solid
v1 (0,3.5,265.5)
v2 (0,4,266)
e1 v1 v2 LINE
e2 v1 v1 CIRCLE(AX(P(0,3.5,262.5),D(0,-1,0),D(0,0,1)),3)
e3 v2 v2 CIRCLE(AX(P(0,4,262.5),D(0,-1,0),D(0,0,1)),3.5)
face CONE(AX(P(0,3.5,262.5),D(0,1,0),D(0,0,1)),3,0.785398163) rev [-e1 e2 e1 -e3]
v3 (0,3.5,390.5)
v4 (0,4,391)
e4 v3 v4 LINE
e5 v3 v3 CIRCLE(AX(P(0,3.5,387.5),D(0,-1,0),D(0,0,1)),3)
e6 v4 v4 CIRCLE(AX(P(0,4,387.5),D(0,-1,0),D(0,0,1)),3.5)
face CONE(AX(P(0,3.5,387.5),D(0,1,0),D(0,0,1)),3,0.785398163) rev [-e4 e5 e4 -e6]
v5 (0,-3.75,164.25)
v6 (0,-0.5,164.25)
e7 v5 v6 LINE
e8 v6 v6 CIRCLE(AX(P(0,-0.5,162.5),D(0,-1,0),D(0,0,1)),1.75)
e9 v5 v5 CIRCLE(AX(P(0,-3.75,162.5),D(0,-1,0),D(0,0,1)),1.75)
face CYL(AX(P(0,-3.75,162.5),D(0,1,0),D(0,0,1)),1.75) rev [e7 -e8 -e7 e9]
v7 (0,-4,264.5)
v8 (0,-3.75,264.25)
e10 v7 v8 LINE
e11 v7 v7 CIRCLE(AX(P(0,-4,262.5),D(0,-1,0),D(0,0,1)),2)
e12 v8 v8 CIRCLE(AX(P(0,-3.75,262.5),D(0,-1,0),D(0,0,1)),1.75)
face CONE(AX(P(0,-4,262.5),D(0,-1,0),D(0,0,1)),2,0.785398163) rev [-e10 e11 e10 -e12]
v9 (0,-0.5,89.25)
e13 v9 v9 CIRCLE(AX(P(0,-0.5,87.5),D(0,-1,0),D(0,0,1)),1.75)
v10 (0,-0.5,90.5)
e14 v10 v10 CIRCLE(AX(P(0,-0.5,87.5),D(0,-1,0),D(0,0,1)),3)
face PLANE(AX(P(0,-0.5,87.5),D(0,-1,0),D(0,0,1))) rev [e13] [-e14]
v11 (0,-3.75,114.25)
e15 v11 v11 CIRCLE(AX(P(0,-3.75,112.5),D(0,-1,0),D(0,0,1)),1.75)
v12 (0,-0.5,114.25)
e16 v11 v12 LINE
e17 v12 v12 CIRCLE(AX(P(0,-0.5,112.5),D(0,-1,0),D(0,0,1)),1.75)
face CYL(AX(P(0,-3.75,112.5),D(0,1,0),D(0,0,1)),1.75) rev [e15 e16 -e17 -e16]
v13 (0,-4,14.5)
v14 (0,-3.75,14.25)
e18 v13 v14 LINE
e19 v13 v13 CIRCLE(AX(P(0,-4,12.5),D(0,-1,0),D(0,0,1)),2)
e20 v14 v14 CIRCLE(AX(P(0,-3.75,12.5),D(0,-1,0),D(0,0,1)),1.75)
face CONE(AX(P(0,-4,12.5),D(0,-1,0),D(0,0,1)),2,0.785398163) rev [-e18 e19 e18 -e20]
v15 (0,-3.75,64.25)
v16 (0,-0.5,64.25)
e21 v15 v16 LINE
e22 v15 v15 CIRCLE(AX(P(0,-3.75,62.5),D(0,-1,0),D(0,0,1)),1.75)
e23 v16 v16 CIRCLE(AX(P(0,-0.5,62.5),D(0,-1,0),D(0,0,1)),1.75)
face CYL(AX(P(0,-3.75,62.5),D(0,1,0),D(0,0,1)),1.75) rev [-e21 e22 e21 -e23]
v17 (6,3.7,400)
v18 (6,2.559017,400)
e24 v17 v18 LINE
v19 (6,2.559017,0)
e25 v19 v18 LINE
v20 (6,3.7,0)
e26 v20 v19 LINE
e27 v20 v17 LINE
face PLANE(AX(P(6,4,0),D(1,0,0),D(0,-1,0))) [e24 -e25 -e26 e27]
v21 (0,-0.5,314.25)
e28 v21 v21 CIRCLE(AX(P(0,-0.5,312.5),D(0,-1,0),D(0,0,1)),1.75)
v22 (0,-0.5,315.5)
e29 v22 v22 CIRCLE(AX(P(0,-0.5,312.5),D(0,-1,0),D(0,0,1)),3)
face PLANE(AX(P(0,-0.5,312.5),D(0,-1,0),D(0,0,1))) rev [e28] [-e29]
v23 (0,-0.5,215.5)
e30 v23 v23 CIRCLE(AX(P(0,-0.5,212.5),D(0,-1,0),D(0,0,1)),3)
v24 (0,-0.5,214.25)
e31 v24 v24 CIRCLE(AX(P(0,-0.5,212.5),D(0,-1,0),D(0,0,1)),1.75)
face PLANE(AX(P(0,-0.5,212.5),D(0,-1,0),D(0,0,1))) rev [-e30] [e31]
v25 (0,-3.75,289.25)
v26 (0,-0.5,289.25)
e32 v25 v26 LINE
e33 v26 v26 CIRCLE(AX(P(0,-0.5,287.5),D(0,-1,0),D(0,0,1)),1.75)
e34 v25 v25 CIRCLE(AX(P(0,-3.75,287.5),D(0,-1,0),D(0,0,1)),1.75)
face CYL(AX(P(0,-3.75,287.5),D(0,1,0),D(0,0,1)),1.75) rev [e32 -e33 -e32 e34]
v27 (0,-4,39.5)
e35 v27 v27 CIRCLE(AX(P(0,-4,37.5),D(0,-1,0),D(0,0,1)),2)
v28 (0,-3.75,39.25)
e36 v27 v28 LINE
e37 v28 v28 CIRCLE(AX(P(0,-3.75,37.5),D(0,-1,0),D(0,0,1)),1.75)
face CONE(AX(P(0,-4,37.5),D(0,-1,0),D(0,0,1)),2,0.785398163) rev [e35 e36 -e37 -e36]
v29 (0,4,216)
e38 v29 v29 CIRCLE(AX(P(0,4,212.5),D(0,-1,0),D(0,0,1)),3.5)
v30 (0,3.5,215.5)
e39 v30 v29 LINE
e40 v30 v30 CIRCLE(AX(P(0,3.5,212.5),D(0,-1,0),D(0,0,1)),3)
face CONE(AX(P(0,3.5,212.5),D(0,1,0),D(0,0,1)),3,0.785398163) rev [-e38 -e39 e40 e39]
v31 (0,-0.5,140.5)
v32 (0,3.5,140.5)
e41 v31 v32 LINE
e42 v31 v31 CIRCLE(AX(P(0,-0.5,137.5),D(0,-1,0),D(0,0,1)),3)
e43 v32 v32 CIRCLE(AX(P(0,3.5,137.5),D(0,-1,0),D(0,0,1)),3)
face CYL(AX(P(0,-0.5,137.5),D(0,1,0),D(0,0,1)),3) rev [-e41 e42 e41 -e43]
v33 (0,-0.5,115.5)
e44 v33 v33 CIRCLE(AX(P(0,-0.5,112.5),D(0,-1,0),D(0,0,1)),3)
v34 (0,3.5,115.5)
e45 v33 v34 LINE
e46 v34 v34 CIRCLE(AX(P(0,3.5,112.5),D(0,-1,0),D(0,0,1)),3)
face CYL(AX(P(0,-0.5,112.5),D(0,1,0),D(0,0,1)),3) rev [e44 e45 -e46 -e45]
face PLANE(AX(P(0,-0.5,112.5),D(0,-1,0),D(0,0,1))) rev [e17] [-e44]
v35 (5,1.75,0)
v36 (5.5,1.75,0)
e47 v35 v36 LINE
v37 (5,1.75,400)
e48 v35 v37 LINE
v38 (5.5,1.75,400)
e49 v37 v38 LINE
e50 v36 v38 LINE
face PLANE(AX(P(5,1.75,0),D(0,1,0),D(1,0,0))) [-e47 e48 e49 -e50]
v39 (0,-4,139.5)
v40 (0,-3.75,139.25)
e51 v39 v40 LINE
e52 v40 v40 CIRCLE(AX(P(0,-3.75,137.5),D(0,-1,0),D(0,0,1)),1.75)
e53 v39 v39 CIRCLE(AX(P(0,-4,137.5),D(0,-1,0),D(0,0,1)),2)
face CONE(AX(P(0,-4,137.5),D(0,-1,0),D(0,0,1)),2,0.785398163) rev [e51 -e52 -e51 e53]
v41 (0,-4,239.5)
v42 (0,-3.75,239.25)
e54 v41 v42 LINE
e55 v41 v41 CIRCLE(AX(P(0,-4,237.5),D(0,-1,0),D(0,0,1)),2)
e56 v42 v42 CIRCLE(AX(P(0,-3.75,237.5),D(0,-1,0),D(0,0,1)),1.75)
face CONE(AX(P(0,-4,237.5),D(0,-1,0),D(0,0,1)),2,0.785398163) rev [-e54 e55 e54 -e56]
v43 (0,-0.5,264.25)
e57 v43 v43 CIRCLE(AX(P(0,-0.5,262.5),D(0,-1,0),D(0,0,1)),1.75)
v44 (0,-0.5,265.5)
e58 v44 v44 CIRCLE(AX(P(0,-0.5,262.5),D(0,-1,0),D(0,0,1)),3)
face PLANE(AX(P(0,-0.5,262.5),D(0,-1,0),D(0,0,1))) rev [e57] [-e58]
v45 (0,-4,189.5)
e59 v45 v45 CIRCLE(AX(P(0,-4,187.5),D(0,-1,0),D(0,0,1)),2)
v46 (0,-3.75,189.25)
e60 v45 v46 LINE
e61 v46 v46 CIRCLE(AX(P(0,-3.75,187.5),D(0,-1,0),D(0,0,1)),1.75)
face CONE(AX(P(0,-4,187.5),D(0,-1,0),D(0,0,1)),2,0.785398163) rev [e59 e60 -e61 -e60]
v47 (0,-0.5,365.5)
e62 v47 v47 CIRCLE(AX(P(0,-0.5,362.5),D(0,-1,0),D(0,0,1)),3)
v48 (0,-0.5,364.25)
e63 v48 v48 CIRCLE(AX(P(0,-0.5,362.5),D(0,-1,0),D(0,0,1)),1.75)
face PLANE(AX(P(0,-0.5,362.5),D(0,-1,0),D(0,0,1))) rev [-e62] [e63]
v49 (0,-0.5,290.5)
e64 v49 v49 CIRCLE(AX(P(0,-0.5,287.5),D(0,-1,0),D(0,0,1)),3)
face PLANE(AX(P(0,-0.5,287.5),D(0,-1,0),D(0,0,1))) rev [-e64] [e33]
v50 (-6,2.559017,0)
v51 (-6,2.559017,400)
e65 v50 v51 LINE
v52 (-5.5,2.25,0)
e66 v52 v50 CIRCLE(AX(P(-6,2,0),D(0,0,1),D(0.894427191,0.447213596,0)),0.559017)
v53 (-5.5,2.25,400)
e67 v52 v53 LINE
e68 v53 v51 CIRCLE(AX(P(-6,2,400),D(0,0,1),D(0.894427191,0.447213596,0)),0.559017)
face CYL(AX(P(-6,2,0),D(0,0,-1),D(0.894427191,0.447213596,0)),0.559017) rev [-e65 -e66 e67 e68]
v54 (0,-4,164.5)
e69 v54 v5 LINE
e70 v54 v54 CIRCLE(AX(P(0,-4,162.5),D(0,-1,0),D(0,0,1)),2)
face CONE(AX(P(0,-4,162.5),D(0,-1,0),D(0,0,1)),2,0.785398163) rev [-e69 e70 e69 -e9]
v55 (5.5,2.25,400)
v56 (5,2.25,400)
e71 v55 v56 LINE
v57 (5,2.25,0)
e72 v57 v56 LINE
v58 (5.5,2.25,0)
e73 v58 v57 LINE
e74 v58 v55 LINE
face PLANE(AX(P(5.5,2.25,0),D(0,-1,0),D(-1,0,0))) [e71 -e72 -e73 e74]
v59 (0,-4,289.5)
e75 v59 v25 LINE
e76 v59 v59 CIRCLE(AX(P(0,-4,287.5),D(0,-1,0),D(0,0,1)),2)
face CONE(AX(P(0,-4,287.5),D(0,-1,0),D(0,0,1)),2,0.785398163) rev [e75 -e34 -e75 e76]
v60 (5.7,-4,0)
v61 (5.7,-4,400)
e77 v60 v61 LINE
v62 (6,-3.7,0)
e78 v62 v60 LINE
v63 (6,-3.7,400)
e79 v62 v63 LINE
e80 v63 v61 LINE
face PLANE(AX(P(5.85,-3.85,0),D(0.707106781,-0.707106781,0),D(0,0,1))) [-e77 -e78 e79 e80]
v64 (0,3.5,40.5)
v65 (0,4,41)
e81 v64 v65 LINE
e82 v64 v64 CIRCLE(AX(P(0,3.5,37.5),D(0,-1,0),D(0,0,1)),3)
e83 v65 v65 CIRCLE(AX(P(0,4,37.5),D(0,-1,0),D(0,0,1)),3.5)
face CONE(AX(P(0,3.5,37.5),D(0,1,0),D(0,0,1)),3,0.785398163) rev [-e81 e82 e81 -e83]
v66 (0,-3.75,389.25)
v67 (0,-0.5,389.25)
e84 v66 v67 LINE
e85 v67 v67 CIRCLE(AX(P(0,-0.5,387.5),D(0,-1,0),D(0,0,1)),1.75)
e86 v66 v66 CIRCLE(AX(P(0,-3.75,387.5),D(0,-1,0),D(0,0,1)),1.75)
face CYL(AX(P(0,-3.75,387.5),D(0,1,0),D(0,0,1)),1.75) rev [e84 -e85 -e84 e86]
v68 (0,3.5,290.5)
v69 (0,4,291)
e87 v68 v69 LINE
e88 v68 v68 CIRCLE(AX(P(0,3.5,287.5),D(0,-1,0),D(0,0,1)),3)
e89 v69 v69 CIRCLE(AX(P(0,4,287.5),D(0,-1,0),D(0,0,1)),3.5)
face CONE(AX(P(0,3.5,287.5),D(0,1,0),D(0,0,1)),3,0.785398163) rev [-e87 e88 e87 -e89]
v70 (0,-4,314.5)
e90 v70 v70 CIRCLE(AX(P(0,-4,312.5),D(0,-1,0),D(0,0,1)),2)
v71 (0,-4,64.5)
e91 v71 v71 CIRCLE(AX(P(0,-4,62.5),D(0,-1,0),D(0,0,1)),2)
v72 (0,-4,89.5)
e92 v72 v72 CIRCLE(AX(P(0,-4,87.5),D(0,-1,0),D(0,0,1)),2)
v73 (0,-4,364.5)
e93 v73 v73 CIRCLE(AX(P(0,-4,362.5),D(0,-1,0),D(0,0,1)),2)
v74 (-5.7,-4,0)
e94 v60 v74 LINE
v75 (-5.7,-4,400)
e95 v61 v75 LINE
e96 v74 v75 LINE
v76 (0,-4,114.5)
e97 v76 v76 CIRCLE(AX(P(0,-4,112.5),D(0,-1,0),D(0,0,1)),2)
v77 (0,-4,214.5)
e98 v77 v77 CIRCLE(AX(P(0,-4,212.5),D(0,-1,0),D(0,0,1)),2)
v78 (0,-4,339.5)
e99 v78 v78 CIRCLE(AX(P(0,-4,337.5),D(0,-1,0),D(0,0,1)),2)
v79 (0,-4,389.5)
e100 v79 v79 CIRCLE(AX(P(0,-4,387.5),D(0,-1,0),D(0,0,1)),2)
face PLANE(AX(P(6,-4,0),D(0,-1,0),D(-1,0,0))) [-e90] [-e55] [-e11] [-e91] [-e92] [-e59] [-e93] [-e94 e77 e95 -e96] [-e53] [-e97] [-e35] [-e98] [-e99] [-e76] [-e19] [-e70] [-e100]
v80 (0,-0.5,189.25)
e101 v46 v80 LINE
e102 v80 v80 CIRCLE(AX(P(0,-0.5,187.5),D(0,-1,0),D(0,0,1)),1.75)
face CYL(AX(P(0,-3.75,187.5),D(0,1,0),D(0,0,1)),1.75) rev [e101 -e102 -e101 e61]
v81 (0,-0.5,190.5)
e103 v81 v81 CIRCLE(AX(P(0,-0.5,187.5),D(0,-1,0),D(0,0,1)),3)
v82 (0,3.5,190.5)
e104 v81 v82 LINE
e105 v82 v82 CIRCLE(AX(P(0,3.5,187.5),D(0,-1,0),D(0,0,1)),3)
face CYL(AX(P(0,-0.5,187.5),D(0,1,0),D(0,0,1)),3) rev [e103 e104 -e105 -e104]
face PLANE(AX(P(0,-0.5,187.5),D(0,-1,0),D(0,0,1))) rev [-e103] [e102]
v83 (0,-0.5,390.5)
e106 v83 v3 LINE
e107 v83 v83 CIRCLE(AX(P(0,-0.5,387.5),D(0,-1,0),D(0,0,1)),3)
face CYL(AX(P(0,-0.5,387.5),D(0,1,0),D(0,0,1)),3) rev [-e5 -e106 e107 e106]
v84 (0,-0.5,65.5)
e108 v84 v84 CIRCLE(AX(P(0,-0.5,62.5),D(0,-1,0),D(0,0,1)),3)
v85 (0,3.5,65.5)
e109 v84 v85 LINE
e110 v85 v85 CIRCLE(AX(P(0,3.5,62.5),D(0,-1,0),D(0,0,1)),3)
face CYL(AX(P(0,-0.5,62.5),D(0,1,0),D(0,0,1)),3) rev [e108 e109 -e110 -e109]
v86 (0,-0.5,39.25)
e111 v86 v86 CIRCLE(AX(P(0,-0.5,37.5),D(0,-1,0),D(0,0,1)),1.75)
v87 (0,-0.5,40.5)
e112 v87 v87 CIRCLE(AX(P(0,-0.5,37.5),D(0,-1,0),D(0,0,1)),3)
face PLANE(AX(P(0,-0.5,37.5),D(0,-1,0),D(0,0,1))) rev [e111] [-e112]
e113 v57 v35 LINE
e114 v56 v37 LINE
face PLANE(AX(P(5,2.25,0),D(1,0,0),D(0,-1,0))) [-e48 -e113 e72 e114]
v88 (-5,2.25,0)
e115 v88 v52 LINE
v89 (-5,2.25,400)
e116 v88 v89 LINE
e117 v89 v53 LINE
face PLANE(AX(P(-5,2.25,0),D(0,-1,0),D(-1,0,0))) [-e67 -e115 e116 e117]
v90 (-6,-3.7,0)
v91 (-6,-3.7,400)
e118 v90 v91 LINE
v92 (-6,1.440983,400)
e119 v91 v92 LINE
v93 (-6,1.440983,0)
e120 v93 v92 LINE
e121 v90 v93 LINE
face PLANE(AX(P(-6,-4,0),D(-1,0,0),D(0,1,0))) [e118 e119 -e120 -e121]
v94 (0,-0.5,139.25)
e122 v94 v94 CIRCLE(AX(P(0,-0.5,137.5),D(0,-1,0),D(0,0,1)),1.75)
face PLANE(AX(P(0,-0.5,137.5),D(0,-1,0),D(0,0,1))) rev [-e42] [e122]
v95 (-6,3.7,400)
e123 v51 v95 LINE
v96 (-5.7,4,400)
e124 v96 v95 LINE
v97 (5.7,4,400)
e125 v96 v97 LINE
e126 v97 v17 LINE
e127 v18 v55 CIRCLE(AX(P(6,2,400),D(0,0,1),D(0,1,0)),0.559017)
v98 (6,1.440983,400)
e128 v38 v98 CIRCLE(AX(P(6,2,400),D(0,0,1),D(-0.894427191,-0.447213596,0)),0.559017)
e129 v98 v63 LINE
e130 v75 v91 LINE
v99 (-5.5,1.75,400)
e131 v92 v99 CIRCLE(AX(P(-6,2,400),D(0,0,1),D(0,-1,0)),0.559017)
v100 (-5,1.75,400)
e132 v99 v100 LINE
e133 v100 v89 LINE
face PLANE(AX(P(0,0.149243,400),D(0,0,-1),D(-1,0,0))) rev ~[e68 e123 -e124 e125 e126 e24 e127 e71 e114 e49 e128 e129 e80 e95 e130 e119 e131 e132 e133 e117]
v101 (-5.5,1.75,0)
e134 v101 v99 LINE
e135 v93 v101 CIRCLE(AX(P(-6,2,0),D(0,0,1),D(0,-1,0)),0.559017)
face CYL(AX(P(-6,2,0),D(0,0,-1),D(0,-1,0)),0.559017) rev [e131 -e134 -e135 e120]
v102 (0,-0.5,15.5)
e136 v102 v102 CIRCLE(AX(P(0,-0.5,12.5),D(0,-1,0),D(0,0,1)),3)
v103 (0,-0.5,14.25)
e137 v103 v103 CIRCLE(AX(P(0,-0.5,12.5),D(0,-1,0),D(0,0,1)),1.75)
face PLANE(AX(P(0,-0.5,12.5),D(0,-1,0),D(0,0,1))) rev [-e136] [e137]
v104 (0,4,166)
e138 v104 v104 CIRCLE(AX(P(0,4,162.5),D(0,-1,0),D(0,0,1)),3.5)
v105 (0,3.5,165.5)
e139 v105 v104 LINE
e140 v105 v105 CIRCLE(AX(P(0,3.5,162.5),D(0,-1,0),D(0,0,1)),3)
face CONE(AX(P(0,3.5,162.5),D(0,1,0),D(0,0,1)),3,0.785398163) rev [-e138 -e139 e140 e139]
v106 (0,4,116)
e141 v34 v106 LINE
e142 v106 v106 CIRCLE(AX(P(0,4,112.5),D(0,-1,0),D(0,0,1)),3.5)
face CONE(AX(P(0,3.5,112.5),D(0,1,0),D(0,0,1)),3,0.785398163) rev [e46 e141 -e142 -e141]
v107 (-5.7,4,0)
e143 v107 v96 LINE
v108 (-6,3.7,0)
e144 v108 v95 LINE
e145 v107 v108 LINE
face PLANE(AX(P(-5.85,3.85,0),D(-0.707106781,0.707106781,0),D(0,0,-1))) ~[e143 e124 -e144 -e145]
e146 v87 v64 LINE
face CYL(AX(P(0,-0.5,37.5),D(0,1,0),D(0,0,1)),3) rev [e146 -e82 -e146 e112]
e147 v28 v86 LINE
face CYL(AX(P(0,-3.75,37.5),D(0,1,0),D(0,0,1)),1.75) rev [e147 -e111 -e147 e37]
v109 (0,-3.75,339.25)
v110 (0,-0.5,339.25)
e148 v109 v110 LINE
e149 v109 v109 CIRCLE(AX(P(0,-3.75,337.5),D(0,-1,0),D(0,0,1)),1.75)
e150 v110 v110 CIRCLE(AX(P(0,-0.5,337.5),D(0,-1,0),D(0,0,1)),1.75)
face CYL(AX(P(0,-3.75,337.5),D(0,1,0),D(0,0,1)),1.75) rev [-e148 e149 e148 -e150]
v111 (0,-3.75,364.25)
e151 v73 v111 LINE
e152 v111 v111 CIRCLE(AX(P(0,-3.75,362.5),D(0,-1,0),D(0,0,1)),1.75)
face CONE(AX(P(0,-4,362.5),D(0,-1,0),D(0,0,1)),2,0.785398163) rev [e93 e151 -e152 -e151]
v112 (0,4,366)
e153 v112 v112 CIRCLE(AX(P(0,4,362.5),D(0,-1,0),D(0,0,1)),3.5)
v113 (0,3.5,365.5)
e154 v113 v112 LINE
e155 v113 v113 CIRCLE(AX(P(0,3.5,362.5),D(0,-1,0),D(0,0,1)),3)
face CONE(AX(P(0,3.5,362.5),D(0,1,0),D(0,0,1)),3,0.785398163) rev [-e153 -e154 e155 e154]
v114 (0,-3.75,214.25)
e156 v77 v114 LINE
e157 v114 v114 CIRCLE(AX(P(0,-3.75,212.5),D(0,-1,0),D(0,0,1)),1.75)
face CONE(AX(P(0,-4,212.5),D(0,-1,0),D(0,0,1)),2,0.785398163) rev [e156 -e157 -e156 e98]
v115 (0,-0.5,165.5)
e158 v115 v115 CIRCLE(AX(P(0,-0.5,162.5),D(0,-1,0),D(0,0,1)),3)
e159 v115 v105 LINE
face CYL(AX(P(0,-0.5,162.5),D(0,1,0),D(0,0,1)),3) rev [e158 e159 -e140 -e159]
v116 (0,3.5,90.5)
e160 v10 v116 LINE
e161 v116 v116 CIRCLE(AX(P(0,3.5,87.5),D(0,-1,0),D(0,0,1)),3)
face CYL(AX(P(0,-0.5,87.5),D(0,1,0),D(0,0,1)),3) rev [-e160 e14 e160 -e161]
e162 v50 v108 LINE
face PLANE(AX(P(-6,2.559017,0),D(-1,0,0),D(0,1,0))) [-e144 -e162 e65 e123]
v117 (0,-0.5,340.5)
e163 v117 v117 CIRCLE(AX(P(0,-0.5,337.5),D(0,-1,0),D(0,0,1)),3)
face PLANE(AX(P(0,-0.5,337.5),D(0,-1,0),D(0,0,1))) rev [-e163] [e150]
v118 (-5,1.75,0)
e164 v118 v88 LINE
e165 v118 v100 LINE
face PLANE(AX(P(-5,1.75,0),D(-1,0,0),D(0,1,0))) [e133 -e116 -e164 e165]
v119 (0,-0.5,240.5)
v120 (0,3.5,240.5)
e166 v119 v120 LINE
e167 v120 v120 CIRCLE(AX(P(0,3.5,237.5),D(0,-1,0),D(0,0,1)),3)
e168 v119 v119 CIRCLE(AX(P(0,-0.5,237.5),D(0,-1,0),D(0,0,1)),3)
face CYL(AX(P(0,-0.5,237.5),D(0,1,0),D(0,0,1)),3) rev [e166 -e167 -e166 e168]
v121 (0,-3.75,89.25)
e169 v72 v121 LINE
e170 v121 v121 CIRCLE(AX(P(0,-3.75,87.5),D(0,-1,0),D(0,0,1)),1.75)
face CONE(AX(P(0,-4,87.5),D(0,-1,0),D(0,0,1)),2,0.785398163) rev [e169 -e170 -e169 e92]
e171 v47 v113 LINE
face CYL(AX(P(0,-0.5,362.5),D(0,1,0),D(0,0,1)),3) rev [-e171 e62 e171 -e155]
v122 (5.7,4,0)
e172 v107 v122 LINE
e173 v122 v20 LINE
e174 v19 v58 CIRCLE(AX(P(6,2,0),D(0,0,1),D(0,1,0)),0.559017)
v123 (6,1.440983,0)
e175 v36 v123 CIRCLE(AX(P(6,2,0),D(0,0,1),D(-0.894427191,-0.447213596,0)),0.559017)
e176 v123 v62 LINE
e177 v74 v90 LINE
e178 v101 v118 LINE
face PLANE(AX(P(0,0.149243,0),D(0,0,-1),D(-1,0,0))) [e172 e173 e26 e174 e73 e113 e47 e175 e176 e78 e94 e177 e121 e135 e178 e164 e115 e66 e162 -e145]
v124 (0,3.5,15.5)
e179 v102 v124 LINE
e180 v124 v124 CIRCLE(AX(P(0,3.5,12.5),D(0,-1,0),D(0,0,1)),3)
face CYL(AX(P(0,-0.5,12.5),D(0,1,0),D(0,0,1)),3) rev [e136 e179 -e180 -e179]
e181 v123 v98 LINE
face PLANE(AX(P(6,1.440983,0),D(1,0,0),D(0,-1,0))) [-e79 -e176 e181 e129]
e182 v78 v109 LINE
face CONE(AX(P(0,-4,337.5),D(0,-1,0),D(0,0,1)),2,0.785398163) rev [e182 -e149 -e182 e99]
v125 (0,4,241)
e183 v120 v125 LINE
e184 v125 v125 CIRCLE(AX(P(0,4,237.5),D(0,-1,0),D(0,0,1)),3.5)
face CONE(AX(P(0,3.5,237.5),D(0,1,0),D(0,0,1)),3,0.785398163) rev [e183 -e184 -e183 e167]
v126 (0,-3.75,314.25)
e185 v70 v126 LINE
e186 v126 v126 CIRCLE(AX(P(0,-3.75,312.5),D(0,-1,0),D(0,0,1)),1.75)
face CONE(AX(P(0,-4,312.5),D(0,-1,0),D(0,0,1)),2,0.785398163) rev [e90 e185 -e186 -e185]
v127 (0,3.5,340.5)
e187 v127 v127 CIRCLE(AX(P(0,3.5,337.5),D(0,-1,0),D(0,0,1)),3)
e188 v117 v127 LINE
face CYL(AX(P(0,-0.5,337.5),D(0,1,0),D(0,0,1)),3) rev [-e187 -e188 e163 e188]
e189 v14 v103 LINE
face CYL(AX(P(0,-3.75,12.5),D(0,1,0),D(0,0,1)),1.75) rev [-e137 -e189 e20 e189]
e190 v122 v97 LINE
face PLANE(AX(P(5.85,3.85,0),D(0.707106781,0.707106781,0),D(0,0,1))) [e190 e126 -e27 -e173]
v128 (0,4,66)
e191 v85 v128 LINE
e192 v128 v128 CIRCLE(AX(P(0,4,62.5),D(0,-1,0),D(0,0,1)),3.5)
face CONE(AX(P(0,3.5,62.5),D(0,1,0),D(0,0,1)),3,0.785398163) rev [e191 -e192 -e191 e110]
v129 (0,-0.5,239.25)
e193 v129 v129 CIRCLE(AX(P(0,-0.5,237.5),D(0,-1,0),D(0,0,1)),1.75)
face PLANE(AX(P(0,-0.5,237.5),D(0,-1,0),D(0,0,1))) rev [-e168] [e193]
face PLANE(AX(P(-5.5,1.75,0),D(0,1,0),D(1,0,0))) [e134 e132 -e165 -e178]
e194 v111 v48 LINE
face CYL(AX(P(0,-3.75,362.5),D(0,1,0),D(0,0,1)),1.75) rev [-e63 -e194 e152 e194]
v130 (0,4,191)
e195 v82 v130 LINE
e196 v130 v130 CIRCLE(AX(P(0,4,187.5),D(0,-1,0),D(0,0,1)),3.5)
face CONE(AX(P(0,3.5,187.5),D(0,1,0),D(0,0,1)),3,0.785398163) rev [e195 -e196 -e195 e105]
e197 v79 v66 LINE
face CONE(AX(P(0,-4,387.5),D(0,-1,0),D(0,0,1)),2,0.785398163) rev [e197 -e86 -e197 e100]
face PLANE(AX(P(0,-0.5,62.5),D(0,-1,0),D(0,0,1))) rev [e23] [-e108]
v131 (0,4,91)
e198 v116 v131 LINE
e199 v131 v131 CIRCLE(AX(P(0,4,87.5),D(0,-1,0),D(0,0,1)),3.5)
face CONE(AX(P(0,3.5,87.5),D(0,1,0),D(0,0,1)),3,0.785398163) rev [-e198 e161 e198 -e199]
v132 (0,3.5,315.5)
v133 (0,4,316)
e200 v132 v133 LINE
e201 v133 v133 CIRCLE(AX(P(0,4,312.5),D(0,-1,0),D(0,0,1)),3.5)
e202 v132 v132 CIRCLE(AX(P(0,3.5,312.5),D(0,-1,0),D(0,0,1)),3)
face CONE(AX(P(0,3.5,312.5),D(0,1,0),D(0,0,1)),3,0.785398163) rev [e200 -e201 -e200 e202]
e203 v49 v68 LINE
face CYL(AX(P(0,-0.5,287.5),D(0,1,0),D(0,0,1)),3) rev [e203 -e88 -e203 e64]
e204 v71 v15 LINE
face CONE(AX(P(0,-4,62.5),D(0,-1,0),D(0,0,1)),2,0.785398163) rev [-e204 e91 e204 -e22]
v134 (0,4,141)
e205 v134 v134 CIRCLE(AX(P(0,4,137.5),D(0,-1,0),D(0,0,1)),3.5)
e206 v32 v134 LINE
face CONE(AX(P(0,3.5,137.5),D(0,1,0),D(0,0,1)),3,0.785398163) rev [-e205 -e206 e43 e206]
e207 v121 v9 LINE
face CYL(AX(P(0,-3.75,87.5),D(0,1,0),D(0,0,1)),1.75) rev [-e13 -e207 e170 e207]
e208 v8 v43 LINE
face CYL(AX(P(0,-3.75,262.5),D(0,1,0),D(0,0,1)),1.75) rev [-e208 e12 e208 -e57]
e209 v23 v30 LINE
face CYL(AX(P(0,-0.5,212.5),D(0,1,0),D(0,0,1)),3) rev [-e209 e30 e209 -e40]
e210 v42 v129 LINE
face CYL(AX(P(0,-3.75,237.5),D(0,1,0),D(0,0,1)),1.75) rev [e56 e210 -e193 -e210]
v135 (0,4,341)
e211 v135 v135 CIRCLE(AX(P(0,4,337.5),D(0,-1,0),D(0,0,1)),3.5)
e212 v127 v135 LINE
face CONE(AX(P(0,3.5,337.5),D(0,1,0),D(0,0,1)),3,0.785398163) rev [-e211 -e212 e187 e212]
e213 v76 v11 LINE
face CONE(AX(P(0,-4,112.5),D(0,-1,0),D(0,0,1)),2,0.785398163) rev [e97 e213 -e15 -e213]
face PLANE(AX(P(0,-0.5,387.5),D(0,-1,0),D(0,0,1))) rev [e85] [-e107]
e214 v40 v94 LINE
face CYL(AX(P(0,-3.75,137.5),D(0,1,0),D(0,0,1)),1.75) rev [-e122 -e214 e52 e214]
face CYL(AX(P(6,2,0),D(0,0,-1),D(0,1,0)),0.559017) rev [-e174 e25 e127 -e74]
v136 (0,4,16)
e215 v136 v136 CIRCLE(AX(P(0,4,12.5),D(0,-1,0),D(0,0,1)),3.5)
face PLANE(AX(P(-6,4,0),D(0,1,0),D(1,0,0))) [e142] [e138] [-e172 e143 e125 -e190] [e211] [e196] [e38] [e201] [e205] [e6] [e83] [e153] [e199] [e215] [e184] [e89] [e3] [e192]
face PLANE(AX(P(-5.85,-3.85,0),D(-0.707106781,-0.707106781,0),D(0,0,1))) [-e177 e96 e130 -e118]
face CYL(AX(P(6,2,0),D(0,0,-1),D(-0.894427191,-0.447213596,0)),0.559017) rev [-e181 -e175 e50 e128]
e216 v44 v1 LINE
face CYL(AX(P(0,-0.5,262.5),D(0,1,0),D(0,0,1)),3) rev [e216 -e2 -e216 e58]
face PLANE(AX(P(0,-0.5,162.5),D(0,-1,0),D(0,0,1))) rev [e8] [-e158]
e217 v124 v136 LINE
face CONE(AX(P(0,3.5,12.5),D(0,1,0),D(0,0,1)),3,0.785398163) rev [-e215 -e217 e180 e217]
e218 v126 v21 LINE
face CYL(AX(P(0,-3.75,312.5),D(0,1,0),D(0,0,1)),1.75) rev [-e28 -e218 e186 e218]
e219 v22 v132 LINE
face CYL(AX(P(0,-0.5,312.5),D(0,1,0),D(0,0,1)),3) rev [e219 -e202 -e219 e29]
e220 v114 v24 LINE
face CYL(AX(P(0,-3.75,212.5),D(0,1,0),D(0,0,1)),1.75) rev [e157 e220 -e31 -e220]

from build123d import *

# Parameters (mm, degrees)
BOSS_EXTRUDE1_DEPTH = 400
CHAMFER1_SIZE       = 0.3
LPATTERN1_COUNT     = 16
LPATTERN1_PITCH     = 25


with BuildPart() as part:
    # Sketch1 → Boss-Extrude1 (new body)
    with BuildSketch(Plane.XY):
        with BuildLine():
            Line((-6, 4), (6, 4))
            Line((6, 4), (6, 2.75))
            Line((6, 2.75), (6, 2.559016994))
            ThreePointArc((6, 2.559016994), (5.706107374, 2.475528258), (5.5, 2.25))
            Line((5.5, 2.25), (5, 2.25))
            Line((5, 2.25), (5, 1.75))
            Line((5, 1.75), (5.5, 1.75))
            ThreePointArc((5.5, 1.75), (5.706107374, 1.524471742), (6, 1.440983006))
            Line((6, 1.440983006), (6, 1.25))
            Line((6, 1.25), (6, -4))
            Line((6, -4), (-6, -4))
            Line((-6, -4), (-6, 1.25))
            Line((-6, 1.25), (-6, 1.440983006))
            ThreePointArc((-6, 1.440983006), (-5.706107374, 1.524471742), (-5.5, 1.75))
            Line((-5.5, 1.75), (-5, 1.75))
            Line((-5, 1.75), (-5, 2.25))
            Line((-5, 2.25), (-5.5, 2.25))
            ThreePointArc((-5.5, 2.25), (-5.706107374, 2.475528258), (-6, 2.559016994))
            Line((-6, 2.559016994), (-6, 2.75))
            Line((-6, 2.75), (-6, 4))
        make_face()
    extrude(amount=BOSS_EXTRUDE1_DEPTH)

    # Chamfer1
    chamfer1_edges = [part.edges().sort_by_distance(p)[0] for p in [
        (-6, 4, 200),
        (6, 4, 200),
        (6, -4, 200),
        (-6, -4, 200),
    ]]
    chamfer(chamfer1_edges, length=CHAMFER1_SIZE)

    # Sketch3 → M3 六角承窩頭蓋螺釘的柱孔1 (revolve, cut)
    with BuildSketch(Plane(origin=(0, 4, 12.5), x_dir=(0, 0, 1), z_dir=(1, 0, 0))):
        Polygon((0, 0), (0, 8), (2, 8), (1.75, 7.75), (1.75, 4.5), (3, 4.5), (3, 0.5), (3.5, 0), align=None)
    hole_wizard_m3_1 = revolve(axis=Axis((0, 10.35, 12.5), (0, -1, 0)), mode=Mode.SUBTRACT)

    # LPattern1: M3 六角承窩頭蓋螺釘的柱孔1 ×16
    with Locations(*[(0, 0, i * LPATTERN1_PITCH) for i in range(1, LPATTERN1_COUNT)]):
        add(hole_wizard_m3_1, mode=Mode.SUBTRACT)


solid = part.part
